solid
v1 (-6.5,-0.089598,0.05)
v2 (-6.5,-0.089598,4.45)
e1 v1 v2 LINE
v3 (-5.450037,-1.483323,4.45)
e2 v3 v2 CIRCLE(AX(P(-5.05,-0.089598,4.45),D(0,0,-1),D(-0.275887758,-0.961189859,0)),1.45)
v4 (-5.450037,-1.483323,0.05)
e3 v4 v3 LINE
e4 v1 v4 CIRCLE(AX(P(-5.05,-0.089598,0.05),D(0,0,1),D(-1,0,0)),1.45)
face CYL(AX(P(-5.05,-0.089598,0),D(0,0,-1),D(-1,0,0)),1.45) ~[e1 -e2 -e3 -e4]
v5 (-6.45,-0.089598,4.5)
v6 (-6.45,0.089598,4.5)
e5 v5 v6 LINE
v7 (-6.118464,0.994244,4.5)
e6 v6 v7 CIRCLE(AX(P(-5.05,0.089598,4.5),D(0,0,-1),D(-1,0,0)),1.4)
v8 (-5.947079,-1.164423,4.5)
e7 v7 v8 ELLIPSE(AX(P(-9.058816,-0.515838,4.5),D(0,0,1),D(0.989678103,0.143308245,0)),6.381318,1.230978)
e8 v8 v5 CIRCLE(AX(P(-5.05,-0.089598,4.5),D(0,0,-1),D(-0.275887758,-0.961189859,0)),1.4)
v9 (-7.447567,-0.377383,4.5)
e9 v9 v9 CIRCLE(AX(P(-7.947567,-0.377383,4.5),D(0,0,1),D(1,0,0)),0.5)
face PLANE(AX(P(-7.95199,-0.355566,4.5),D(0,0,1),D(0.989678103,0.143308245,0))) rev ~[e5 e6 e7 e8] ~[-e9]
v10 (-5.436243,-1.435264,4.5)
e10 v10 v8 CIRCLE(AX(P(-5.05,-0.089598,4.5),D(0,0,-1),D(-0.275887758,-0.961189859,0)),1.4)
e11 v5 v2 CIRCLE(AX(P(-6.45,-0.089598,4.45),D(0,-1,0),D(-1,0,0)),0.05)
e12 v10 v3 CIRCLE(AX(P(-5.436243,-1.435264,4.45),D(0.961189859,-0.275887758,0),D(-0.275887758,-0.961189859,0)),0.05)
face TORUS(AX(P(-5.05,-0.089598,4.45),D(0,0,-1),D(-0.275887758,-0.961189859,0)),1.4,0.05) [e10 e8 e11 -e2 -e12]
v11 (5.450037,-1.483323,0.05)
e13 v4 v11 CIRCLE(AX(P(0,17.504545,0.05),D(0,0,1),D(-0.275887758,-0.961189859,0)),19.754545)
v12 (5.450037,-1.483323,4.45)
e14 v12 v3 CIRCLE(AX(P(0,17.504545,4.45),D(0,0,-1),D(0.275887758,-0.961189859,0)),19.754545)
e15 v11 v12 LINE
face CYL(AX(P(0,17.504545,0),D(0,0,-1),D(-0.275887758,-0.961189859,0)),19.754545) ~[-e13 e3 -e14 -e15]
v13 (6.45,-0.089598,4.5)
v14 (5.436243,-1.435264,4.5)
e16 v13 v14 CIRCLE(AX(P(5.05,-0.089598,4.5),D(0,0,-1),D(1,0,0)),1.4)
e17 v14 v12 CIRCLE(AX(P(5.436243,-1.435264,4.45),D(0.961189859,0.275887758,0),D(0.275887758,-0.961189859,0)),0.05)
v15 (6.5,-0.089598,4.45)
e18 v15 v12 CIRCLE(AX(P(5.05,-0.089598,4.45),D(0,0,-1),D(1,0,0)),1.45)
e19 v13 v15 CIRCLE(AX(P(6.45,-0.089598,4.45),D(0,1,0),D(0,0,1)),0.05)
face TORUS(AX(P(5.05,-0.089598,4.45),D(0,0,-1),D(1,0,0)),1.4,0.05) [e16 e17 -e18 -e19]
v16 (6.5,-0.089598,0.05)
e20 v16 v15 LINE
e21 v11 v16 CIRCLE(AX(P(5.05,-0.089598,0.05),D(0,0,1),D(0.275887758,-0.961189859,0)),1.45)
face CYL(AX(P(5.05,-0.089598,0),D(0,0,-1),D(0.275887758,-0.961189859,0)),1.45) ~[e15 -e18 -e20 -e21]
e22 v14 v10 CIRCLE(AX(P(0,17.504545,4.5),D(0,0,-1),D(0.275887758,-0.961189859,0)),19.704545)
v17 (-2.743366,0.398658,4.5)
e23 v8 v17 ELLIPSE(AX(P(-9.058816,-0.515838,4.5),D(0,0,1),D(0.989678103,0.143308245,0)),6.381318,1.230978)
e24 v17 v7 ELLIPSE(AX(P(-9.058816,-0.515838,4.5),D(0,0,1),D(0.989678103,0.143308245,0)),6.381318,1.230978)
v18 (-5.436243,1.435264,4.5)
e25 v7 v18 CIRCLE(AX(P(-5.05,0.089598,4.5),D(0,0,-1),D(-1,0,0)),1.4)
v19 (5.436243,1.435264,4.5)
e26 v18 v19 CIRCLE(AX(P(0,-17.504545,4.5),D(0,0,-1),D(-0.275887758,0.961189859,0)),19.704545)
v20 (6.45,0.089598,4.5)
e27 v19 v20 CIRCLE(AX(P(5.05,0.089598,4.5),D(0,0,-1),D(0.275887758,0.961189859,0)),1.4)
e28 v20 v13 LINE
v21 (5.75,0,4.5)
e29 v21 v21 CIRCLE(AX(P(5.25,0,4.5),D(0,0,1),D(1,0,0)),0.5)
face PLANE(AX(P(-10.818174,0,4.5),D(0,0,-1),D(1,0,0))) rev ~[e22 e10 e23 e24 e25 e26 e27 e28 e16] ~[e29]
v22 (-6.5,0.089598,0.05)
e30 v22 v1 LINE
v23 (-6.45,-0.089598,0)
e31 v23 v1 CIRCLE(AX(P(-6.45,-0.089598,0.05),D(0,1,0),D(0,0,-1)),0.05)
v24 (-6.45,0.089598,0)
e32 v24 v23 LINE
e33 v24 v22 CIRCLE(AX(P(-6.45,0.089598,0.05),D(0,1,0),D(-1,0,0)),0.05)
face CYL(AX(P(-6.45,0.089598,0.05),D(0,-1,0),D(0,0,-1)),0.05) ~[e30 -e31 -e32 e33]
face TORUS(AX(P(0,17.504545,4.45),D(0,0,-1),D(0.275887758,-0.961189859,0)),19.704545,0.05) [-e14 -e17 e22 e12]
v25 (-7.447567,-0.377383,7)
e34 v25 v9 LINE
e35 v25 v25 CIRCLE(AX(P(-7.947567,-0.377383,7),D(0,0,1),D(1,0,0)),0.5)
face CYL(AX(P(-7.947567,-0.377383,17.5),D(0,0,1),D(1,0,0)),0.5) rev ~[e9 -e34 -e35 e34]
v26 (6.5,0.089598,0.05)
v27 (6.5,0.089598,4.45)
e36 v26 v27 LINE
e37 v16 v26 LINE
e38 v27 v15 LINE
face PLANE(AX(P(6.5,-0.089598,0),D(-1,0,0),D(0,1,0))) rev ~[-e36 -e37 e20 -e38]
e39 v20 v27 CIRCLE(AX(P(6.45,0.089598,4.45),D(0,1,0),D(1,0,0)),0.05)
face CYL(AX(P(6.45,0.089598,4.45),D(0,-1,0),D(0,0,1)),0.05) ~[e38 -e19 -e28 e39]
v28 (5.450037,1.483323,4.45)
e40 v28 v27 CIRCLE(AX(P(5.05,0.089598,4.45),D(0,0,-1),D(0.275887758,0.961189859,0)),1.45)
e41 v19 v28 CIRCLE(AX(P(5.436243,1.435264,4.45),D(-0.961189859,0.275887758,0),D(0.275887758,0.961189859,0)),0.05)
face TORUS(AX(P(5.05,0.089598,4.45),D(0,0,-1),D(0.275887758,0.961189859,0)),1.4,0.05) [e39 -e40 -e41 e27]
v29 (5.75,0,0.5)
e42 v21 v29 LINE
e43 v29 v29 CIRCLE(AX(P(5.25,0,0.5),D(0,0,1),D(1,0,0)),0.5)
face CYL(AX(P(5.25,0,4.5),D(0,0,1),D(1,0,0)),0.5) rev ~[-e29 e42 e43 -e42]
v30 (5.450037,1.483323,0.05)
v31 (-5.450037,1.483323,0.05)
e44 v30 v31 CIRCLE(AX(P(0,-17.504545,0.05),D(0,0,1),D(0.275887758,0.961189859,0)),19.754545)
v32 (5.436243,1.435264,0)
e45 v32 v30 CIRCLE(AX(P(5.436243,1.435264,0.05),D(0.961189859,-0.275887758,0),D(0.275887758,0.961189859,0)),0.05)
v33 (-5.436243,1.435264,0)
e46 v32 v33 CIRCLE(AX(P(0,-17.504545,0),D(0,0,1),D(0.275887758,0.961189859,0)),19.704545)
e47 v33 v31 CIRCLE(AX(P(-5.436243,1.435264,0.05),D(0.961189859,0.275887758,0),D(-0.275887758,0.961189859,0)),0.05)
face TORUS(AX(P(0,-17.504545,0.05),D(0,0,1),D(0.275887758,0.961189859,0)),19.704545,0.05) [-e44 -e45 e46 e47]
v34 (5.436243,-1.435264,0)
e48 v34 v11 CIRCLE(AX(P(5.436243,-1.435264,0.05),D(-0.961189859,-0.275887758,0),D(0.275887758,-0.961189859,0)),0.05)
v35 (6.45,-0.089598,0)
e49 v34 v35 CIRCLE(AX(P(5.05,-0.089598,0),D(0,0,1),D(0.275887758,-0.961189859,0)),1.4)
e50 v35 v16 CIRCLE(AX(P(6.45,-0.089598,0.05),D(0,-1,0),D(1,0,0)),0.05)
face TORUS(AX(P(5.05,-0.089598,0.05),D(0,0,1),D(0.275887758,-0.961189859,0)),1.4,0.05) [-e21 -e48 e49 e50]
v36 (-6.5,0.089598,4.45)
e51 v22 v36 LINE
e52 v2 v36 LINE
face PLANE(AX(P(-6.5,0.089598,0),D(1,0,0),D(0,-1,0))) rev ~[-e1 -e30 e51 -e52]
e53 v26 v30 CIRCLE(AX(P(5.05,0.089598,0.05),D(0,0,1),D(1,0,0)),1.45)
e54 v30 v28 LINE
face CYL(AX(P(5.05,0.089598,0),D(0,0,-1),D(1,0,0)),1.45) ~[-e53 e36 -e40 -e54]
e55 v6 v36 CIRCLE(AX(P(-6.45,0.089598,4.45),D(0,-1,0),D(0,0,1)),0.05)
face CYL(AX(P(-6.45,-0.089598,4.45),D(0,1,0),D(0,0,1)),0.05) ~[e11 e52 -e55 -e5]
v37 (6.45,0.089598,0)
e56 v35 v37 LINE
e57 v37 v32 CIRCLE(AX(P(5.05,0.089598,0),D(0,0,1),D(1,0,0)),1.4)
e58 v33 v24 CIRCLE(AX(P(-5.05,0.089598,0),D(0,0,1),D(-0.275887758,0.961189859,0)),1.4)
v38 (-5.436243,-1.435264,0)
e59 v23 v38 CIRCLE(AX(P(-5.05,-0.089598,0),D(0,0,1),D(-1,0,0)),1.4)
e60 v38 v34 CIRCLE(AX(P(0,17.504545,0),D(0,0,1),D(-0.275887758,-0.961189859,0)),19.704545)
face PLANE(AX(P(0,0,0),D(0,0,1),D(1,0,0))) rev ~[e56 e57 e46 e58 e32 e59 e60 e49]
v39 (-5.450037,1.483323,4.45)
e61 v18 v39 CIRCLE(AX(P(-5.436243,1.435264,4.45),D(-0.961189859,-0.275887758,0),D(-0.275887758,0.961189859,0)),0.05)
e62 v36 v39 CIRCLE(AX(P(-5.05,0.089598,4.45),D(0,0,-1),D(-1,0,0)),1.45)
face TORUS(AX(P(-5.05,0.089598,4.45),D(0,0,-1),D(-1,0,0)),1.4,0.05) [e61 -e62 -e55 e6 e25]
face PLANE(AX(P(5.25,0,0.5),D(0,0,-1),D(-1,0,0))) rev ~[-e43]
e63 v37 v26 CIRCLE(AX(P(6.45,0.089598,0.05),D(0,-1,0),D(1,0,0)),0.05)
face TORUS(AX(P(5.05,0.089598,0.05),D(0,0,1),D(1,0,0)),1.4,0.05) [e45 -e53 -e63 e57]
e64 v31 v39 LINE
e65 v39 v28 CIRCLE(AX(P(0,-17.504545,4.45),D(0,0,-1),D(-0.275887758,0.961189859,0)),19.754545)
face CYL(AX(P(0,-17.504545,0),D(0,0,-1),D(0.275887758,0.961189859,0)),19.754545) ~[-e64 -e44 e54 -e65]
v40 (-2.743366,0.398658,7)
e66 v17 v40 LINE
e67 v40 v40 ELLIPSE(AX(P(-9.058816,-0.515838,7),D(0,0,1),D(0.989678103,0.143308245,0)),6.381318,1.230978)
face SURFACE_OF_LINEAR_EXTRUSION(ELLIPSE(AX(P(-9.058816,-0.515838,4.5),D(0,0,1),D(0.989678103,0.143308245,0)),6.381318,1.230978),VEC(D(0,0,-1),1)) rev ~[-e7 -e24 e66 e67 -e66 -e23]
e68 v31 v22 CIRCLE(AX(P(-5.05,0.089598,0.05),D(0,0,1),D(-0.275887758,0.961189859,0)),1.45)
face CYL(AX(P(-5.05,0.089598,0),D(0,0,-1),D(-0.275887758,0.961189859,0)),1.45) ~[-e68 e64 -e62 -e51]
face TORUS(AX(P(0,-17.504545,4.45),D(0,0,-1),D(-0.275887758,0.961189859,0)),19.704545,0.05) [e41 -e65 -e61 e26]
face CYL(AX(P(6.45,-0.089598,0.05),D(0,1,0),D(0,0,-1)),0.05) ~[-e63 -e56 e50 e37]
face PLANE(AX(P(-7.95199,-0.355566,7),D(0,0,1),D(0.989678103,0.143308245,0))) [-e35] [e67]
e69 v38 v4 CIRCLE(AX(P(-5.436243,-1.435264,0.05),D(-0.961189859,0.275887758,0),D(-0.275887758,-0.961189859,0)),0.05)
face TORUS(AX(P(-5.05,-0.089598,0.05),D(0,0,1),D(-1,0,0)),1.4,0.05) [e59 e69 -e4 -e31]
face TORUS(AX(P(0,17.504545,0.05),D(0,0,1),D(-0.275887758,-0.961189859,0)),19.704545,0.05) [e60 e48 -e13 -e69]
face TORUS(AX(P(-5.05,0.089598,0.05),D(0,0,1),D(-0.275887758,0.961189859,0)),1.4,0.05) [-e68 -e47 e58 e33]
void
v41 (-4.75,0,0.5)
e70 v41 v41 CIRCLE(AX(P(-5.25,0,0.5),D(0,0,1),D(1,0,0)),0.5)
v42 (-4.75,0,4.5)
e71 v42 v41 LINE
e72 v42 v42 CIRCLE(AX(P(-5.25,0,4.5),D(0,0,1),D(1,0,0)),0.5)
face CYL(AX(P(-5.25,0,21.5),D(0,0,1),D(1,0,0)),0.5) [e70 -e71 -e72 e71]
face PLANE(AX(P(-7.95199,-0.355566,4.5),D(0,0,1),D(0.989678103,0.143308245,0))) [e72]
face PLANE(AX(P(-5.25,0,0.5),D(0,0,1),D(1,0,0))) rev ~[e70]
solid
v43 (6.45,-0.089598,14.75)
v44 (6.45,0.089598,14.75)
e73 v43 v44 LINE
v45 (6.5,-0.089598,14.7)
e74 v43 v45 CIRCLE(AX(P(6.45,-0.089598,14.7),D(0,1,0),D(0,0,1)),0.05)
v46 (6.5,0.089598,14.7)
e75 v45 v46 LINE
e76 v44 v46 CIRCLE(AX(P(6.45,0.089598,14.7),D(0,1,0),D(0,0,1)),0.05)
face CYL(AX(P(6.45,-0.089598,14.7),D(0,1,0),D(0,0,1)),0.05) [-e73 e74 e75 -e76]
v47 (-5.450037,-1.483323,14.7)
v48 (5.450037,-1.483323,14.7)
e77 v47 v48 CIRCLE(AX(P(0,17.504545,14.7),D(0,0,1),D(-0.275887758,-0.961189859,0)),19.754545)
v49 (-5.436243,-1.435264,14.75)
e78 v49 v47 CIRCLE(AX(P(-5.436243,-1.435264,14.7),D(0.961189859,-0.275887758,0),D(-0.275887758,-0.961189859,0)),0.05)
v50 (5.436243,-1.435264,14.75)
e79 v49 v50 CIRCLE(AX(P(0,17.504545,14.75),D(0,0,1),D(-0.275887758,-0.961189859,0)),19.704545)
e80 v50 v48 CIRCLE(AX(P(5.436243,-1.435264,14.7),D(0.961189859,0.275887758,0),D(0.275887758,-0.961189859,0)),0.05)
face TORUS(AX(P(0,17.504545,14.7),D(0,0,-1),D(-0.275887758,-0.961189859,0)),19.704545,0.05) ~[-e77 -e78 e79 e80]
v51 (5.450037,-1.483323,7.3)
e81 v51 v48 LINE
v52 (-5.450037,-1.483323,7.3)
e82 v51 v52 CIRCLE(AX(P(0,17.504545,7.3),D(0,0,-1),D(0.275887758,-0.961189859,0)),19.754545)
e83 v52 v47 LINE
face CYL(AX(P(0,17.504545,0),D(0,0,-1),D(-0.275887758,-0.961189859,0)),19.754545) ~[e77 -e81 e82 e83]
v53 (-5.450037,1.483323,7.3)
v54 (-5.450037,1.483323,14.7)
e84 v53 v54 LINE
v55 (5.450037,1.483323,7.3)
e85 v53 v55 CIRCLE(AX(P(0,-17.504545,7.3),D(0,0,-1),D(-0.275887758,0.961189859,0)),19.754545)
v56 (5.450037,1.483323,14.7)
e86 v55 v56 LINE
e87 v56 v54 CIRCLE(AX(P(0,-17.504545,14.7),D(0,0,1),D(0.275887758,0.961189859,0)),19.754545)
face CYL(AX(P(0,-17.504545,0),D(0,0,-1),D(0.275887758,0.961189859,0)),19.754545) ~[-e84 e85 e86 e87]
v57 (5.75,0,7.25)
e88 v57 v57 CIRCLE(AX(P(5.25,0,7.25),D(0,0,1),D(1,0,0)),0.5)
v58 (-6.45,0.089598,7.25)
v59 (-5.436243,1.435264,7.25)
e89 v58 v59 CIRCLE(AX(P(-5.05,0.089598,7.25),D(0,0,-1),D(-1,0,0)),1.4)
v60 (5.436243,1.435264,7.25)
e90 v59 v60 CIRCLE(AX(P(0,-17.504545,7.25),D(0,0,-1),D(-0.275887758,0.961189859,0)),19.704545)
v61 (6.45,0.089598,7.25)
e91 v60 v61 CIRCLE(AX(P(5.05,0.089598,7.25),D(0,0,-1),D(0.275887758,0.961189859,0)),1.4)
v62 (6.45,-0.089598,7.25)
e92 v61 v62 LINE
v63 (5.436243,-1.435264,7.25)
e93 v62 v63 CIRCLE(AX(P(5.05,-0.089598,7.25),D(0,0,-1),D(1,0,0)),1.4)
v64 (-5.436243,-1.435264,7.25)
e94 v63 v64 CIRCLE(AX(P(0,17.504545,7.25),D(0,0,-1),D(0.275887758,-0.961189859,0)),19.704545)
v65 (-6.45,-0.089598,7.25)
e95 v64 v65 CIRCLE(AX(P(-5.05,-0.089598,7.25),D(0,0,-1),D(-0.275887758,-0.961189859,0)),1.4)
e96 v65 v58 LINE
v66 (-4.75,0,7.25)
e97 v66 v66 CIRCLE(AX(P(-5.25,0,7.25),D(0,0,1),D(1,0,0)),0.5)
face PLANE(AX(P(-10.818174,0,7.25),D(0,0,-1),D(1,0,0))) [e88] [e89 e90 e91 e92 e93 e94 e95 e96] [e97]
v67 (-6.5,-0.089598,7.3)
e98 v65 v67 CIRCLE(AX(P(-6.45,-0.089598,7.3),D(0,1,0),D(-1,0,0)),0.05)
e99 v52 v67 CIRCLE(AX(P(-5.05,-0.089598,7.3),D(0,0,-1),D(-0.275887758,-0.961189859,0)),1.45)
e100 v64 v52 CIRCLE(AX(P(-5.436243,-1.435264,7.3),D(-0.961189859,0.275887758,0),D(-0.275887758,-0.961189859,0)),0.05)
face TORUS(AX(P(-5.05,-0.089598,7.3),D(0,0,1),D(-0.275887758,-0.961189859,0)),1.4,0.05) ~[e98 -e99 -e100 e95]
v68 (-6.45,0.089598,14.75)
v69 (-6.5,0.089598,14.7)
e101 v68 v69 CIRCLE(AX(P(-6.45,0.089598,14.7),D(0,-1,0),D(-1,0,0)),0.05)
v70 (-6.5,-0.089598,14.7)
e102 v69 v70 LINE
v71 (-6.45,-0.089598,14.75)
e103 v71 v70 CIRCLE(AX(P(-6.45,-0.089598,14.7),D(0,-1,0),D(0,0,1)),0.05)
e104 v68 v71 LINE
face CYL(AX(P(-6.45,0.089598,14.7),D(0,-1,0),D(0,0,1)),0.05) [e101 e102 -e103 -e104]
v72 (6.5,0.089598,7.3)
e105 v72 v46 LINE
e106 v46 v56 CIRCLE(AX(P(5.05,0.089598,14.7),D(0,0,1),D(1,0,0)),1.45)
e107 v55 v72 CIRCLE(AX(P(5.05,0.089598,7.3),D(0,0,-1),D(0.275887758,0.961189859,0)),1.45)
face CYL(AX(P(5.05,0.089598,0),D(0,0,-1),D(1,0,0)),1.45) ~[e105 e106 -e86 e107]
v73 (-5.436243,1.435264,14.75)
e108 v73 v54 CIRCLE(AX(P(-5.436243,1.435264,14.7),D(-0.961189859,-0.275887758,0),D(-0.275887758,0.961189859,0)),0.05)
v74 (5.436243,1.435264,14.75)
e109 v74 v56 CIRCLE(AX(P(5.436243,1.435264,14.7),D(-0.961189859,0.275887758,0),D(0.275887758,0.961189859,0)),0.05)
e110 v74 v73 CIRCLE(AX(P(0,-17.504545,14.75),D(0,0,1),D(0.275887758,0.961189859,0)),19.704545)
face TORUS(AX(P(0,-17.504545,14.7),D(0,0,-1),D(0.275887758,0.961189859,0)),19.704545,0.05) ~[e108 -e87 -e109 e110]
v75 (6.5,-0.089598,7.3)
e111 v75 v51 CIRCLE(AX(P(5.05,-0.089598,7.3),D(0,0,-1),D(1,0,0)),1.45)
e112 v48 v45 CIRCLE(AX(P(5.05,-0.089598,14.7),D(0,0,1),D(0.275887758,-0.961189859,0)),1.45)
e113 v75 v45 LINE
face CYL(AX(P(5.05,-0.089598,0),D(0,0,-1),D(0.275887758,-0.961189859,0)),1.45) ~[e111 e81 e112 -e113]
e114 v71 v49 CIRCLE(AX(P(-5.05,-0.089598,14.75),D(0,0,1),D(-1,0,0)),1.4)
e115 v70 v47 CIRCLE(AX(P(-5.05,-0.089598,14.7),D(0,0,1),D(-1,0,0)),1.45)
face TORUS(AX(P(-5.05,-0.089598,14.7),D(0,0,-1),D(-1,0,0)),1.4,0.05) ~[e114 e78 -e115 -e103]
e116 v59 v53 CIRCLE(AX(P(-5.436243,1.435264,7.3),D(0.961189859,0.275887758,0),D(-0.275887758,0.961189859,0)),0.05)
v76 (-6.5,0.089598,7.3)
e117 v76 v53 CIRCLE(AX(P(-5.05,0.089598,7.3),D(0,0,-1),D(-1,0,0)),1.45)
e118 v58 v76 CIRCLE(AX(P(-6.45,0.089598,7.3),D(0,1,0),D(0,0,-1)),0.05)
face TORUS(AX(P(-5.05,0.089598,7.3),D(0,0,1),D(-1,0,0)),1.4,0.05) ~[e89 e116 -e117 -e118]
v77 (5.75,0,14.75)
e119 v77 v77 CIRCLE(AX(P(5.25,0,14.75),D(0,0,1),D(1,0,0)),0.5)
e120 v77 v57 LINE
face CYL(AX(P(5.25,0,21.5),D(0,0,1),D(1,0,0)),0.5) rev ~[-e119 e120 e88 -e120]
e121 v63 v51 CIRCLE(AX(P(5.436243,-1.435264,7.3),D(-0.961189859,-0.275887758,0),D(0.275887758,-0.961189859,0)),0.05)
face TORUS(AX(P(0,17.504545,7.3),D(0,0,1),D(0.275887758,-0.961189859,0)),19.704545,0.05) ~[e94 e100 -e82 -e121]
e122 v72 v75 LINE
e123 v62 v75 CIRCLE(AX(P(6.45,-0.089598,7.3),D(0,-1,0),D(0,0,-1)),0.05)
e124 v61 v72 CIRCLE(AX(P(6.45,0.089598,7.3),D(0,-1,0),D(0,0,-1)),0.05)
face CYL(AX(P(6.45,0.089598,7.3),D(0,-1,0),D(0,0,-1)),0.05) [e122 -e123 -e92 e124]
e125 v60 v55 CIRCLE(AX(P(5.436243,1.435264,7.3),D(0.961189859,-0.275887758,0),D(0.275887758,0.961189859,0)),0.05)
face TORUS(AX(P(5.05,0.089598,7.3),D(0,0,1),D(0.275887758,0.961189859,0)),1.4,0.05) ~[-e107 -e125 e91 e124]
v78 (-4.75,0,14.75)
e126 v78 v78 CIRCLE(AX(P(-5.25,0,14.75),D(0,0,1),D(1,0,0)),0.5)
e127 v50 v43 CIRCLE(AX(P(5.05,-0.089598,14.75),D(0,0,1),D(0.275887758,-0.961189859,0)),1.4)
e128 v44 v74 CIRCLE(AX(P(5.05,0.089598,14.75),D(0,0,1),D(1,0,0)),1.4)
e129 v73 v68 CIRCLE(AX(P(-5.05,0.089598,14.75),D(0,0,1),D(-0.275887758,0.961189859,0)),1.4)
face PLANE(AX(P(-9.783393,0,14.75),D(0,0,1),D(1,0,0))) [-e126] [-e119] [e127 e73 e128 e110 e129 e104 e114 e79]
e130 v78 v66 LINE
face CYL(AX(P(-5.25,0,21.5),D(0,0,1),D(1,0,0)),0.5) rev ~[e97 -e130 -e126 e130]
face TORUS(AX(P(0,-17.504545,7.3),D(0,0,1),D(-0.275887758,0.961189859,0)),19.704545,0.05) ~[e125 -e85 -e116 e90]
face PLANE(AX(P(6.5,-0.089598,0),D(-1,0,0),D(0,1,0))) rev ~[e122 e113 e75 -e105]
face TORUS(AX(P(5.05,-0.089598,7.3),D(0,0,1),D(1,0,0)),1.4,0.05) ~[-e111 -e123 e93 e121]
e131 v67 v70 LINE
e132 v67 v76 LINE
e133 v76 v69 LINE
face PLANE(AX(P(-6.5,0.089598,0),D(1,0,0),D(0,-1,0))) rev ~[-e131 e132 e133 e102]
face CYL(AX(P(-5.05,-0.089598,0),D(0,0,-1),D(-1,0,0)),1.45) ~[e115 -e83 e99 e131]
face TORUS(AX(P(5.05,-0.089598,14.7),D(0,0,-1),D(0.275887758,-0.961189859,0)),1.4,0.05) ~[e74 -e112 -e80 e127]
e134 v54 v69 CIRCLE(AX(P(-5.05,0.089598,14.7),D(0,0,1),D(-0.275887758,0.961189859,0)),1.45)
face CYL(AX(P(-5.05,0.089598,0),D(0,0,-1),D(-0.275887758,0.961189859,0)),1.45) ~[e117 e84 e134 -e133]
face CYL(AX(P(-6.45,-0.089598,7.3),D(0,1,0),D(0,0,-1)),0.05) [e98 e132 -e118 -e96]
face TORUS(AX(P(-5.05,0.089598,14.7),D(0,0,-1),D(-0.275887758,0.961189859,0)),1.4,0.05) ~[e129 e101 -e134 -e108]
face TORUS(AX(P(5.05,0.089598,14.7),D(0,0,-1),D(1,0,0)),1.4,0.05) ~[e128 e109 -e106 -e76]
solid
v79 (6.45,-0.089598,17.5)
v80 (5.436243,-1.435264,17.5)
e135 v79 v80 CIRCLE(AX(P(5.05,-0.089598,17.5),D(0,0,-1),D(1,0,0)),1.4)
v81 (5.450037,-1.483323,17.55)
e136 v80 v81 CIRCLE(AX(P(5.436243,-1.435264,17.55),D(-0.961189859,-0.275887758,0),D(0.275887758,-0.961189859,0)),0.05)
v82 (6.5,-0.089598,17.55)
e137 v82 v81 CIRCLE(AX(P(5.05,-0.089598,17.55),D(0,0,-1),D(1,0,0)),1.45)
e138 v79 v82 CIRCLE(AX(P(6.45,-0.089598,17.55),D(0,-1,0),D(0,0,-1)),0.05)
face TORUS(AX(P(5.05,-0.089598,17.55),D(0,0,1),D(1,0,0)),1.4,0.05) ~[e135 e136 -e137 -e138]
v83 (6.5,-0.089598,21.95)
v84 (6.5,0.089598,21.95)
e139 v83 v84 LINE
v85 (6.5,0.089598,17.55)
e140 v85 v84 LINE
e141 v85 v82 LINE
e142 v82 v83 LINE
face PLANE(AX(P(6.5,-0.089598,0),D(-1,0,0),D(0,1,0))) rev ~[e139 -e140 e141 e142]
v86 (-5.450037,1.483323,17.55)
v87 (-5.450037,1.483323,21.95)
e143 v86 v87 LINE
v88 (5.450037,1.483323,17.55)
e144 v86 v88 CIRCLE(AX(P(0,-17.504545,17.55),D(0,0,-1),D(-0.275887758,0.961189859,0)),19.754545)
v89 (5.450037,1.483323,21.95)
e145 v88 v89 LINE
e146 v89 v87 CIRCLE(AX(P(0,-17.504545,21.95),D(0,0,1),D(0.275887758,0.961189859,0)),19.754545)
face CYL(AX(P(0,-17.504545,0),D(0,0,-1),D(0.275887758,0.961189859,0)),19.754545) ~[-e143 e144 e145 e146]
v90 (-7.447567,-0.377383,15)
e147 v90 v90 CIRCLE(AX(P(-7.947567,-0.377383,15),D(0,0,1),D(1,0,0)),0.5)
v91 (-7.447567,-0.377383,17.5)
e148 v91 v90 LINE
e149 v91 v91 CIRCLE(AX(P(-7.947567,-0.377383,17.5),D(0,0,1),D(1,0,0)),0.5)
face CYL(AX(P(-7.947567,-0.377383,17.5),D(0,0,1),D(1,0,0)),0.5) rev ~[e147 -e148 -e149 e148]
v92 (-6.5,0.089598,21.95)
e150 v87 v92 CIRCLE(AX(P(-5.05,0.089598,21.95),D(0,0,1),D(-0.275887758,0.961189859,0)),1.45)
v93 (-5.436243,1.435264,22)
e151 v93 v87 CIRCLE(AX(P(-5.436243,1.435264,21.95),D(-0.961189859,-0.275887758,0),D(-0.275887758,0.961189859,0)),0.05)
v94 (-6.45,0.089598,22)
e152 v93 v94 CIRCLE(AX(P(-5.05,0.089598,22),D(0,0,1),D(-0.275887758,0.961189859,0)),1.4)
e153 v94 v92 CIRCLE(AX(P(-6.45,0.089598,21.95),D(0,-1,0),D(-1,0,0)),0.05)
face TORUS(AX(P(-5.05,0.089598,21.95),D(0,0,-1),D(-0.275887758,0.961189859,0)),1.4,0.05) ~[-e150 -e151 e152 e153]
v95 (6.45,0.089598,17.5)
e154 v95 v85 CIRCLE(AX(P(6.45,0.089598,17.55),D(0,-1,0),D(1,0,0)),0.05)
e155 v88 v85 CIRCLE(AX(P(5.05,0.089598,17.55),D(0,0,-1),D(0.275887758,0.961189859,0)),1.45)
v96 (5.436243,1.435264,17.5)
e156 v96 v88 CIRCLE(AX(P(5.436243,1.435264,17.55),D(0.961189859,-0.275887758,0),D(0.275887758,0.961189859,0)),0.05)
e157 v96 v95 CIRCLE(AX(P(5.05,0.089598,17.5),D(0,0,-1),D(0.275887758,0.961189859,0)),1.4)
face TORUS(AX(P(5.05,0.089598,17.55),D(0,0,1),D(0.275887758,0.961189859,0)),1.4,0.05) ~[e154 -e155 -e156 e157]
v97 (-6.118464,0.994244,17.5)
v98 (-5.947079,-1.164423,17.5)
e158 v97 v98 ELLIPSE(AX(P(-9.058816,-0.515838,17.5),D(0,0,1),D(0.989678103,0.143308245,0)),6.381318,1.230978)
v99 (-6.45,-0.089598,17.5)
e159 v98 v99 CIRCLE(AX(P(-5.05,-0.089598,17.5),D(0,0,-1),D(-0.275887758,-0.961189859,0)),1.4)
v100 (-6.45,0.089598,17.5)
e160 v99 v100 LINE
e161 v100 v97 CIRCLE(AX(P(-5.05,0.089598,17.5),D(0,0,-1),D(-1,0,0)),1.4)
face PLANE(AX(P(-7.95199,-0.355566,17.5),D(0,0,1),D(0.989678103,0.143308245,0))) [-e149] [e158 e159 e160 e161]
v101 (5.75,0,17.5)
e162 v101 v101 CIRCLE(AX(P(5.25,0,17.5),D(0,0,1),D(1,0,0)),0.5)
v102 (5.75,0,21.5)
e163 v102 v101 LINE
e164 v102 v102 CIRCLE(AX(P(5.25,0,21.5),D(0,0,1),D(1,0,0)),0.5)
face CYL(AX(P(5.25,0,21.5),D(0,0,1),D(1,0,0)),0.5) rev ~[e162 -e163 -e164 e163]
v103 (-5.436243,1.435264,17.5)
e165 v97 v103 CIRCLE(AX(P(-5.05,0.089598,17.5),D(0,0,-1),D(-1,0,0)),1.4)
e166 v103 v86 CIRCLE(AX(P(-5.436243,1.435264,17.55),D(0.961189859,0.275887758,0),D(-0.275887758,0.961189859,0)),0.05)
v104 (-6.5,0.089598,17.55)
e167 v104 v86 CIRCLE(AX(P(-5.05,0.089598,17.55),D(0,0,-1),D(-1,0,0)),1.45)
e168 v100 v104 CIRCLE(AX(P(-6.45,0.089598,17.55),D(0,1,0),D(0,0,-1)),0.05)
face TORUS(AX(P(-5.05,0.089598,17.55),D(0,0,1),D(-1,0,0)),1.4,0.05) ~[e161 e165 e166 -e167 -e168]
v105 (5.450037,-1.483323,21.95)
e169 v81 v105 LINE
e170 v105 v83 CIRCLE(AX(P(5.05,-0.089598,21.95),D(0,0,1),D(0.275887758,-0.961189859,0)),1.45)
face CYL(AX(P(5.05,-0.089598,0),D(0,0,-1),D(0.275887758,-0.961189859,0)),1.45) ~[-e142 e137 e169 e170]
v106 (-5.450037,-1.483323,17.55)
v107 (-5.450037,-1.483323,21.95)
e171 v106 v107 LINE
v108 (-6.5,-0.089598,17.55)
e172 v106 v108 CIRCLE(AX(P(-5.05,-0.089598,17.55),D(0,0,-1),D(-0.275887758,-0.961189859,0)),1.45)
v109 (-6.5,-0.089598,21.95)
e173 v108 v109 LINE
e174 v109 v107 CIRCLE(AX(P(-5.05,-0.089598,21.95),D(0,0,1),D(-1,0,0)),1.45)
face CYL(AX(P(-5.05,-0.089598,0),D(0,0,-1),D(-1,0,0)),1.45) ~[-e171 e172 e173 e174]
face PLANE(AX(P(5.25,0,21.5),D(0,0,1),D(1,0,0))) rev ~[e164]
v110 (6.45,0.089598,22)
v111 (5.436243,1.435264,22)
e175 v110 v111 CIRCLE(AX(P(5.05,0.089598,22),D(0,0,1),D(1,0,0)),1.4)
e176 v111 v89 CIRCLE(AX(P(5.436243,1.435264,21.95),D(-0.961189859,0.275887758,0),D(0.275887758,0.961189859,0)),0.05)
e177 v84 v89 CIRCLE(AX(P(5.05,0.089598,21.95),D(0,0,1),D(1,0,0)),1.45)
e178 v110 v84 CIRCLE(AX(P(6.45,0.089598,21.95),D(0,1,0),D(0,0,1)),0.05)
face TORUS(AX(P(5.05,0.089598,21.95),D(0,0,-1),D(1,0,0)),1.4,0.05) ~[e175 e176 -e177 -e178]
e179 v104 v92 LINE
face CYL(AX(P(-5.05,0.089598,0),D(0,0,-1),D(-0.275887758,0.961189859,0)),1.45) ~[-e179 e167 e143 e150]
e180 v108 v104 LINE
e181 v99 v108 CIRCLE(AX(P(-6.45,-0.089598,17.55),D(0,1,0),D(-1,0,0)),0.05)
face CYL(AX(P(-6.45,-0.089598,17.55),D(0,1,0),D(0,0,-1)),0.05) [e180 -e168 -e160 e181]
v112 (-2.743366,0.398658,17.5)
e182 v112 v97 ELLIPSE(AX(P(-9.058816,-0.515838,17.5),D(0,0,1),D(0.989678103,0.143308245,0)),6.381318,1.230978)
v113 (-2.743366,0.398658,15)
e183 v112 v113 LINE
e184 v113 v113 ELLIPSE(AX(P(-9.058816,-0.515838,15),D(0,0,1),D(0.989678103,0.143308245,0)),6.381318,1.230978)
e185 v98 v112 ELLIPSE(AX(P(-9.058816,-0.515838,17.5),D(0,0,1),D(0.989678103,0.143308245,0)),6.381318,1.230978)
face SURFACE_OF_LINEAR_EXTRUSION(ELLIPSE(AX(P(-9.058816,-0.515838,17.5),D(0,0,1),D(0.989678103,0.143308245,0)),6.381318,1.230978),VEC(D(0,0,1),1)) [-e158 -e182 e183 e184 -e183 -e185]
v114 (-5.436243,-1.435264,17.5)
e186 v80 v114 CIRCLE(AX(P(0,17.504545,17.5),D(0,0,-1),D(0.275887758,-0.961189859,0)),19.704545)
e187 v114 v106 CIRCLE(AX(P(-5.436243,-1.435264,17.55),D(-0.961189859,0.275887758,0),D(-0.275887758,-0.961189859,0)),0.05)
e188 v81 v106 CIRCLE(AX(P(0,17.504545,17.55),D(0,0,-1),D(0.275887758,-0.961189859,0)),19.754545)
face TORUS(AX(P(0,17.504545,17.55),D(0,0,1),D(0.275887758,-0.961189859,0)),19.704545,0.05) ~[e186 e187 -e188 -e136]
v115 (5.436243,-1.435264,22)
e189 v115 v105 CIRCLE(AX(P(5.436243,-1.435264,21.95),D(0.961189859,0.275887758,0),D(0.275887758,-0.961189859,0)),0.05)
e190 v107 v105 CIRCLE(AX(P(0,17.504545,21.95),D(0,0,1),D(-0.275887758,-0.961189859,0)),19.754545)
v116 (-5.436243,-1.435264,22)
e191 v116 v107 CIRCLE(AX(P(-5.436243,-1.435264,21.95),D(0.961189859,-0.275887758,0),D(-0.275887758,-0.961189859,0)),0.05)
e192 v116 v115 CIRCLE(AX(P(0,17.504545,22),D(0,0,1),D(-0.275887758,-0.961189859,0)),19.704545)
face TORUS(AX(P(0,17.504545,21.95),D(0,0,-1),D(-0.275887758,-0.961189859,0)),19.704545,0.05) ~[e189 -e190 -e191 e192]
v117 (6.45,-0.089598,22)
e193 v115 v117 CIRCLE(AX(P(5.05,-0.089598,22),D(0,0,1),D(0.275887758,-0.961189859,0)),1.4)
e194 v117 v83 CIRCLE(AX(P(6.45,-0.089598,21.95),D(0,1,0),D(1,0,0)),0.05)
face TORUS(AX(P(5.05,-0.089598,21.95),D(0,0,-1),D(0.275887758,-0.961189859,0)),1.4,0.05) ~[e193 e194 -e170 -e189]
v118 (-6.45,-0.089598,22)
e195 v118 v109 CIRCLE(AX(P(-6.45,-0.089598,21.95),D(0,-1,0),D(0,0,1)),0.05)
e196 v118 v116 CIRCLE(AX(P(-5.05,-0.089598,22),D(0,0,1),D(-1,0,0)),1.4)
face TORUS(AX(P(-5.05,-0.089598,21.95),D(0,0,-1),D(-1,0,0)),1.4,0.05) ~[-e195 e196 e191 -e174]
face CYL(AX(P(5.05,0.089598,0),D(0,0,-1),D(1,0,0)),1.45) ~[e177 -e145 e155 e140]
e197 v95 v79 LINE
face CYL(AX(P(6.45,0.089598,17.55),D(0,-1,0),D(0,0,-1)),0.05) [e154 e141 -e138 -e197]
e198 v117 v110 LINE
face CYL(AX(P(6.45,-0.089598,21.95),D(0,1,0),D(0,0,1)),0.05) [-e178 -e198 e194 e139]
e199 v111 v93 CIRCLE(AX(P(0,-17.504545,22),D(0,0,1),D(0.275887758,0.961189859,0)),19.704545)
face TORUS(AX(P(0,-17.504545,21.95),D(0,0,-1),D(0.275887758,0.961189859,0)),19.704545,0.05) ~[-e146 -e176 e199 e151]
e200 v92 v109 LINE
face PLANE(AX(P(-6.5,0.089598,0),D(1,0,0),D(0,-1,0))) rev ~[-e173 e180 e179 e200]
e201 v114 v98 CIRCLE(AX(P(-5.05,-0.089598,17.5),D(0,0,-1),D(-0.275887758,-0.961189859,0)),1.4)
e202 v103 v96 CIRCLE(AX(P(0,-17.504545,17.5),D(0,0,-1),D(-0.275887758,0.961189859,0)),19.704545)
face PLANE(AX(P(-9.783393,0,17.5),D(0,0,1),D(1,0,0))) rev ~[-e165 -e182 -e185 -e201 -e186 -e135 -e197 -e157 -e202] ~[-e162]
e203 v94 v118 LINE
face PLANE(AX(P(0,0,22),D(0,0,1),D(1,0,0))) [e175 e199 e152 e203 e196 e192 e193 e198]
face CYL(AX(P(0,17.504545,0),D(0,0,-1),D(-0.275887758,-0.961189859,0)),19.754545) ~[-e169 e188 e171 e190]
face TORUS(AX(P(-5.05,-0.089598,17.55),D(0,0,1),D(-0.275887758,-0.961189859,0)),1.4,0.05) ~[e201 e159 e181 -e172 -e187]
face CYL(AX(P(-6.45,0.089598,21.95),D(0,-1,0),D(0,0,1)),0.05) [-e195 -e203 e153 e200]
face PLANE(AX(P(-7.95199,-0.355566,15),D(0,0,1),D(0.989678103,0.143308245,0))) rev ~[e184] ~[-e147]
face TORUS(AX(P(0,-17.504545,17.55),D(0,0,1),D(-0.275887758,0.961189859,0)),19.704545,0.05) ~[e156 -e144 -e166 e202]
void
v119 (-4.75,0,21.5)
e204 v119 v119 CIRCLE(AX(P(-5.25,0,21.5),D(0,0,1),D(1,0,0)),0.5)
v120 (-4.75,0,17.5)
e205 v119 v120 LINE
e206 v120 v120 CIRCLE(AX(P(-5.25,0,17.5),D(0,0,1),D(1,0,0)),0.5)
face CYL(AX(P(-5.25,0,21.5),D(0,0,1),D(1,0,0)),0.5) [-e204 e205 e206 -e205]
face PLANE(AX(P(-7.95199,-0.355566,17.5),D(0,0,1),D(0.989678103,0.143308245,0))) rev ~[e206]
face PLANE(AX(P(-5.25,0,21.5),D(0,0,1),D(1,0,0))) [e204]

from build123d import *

# Parameters (mm, degrees)
BOSS_EXTRUDE1_DEPTH = 22
SKETCH2_W           = 20.821066257
SKETCH2_H           = 2.75
SKETCH2_W_2         = 22.326203578
CUT_EXTRUDE1_DEPTH  = 11
CUT_EXTRUDE2_START  = -0.5
SKETCH3_R           = 0.5
CUT_EXTRUDE2_DEPTH  = 21
FILLET1_R           = 0.05
FILLET2_R           = 0.05
FILLET3_R           = 0.05
SKETCH4_R           = 0.5
CUT_EXTRUDE3_DEPTH  = 30
BOSS_EXTRUDE2_START = -4.5
SKETCH6_RX          = 6.381317706
SKETCH6_RY          = 1.230977933
BOSS_EXTRUDE2_DEPTH = 2.5
BOSS_EXTRUDE3_START = -17.5
SKETCH6_2_RX        = 6.381317706
SKETCH6_2_RY        = 1.230977933
BOSS_EXTRUDE3_DEPTH = 2.5
SKETCH7_R           = 0.5
CUT_EXTRUDE6_DEPTH  = 22.5
SKETCH9_R           = 0.642655751
BOSS_EXTRUDE4_DEPTH = 0.5
SKETCH10_R          = 0.749250698
BOSS_EXTRUDE5_DEPTH = 0.5


with BuildPart() as part:
    # Sketch1 → Boss-Extrude1 (new body)
    with BuildSketch(Plane.XY):
        with BuildLine():
            Line((-6.5, 0.089598011), (-6.5, -0.089598011))
            ThreePointArc((-6.5, -0.089598011), (-6.208135141, -0.962078954), (-5.450037249, -1.483323307))
            ThreePointArc((-5.450037249, -1.483323307), (0, -2.25), (5.450037249, -1.483323307))
            ThreePointArc((5.450037249, -1.483323307), (6.208135141, -0.962078954), (6.5, -0.089598011))
            Line((6.5, -0.089598011), (6.5, 0.089598011))
            ThreePointArc((6.5, 0.089598011), (6.208135141, 0.962078954), (5.450037249, 1.483323307))
            ThreePointArc((5.450037249, 1.483323307), (0, 2.25), (-5.450037249, 1.483323307))
            ThreePointArc((-5.450037249, 1.483323307), (-6.208135141, 0.962078954), (-6.5, 0.089598011))
        make_face()
    extrude(amount=BOSS_EXTRUDE1_DEPTH)

    # Sketch2 → Cut-Extrude1 (cut, symmetric)
    with BuildSketch(Plane(origin=(0, 0, 0), x_dir=(1, 0, 0), z_dir=(0, 1, 0))):
        with Locations((-0.407641358, -5.875)):
            Rectangle(SKETCH2_W, SKETCH2_H)
        with Locations((1.37970921, -16.125)):
            Rectangle(SKETCH2_W_2, SKETCH2_H)
    extrude(amount=CUT_EXTRUDE1_DEPTH, both=True, mode=Mode.SUBTRACT)


with BuildPart() as cut_extrude1_piece_1:
    # of the separate pieces the step leaves, piece 1, a body of its own (cut_extrude1_pieces)
    add(part.part.solids().sort_by_distance((6.5, -0.089598011, 7.25))[0])


with BuildPart() as cut_extrude1_piece_2:
    # of the separate pieces the step leaves, piece 2, a body of its own (cut_extrude1_pieces)
    add(part.part.solids().sort_by_distance((6.5, -0.089598011, 17.5))[0])


with BuildPart() as cut_extrude1_piece_3:
    # of the separate pieces the step leaves, piece 3, a body of its own (cut_extrude1_pieces)
    add(part.part.solids().sort_by_distance((5.450037249, -1.483323307, 0))[0])


with BuildPart() as cut_extrude2_tool:
    # Sketch3 → Cut-Extrude2 (new body)
    with BuildSketch(Plane.XY.offset(22).offset(CUT_EXTRUDE2_START)):
        with Locations((5.25, 0)):
            Circle(SKETCH3_R)
        with Locations((-5.25, 0)):
            Circle(SKETCH3_R)
    extrude(amount=-CUT_EXTRUDE2_DEPTH)


with BuildPart() as cut_extrude1_piece_1_1:
    add(cut_extrude1_piece_1.part)

    # Cut-Extrude2: cut by cut_extrude2_tool
    add(cut_extrude2_tool.part, mode=Mode.SUBTRACT)

    # Fillet2
    fillet2_edges = [cut_extrude1_piece_1_1.edges().sort_by_distance(p)[0] for p in [
        (6.208135141, 0.962078954, 7.25),
        (6.5, 0, 7.25),
        (6.208135141, -0.962078954, 7.25),
        (0, -2.25, 7.25),
        (-6.208135141, -0.962078954, 7.25),
        (-6.5, 0, 7.25),
        (-6.208135141, 0.962078954, 7.25),
        (-6.208135141, 0.962078954, 14.75),
        (-6.5, 0, 14.75),
        (-6.208135141, -0.962078954, 14.75),
        (0, -2.25, 14.75),
        (6.208135141, -0.962078954, 14.75),
        (6.5, 0, 14.75),
        (6.208135141, 0.962078954, 14.75),
        (0, 2.25, 7.25),
        (0, 2.25, 14.75),
    ]]
    fillet(fillet2_edges, radius=FILLET2_R)


with BuildPart() as cut_extrude1_piece_2_1:
    add(cut_extrude1_piece_2.part)

    # Cut-Extrude2: cut by cut_extrude2_tool
    add(cut_extrude2_tool.part, mode=Mode.SUBTRACT)

    # Fillet1
    fillet1_edges = [cut_extrude1_piece_2_1.edges().sort_by_distance(p)[0] for p in [
        (6.208135141, 0.962078954, 17.5),
        (6.5, 0, 17.5),
        (6.208135141, -0.962078954, 17.5),
        (0, -2.25, 17.5),
        (-6.208135141, -0.962078954, 17.5),
        (-6.5, 0, 17.5),
        (-6.208135141, 0.962078954, 17.5),
        (6.5, 0, 22),
        (6.208135141, -0.962078954, 22),
        (0, -2.25, 22),
        (-6.208135141, -0.962078954, 22),
        (-6.5, 0, 22),
        (-6.208135141, 0.962078954, 22),
        (0, 2.25, 22),
        (6.208135141, 0.962078954, 22),
        (0, 2.25, 17.5),
    ]]
    fillet(fillet1_edges, radius=FILLET1_R)


with BuildPart() as cut_extrude1_piece_3_1:
    add(cut_extrude1_piece_3.part)

    # Cut-Extrude2: cut by cut_extrude2_tool
    add(cut_extrude2_tool.part, mode=Mode.SUBTRACT)

    # Fillet3
    fillet3_edges = [cut_extrude1_piece_3_1.edges().sort_by_distance(p)[0] for p in [
        (6.208135141, 0.962078954, 0),
        (6.5, 0, 0),
        (6.208135141, -0.962078954, 0),
        (0, -2.25, 0),
        (-6.208135141, -0.962078954, 0),
        (-6.5, 0, 0),
        (-6.208135141, 0.962078954, 0),
        (-6.5, 0, 4.5),
        (-6.208135141, -0.962078954, 4.5),
        (0, -2.25, 4.5),
        (6.208135141, -0.962078954, 4.5),
        (6.5, 0, 4.5),
        (6.208135141, 0.962078954, 4.5),
        (0, 2.25, 4.5),
        (0, 2.25, 0),
        (-6.208135141, 0.962078954, 4.5),
    ]]
    fillet(fillet3_edges, radius=FILLET3_R)


with BuildPart() as cut_extrude3_tool:
    # Sketch4 → Cut-Extrude3 (new, symmetric)
    with BuildSketch(Plane.XY.offset(4.5)):
        with Locations((5.25, 0)):
            Circle(SKETCH4_R)
    extrude(amount=CUT_EXTRUDE3_DEPTH, both=True)


with BuildPart() as cut_extrude1_piece_2_2:
    add(cut_extrude1_piece_2_1.part)

    # Cut-Extrude3: cut by cut_extrude3_tool
    add(cut_extrude3_tool.part, mode=Mode.SUBTRACT)

    # Sketch6 → Boss-Extrude2 (add)
    with BuildSketch(Plane.XY.offset(22).offset(BOSS_EXTRUDE2_START)):
        with Locations(Location((-9.058816325, -0.515837668), (0, 0, 8.239325628))):
            Ellipse(SKETCH6_RX, SKETCH6_RY)
    extrude(amount=-BOSS_EXTRUDE2_DEPTH)


with BuildPart() as cut_extrude1_piece_3_2:
    add(cut_extrude1_piece_3_1.part)

    # Cut-Extrude3: cut by cut_extrude3_tool
    add(cut_extrude3_tool.part, mode=Mode.SUBTRACT)

    # Sketch6<2> → Boss-Extrude3 (add)
    with BuildSketch(Plane.XY.offset(22).offset(BOSS_EXTRUDE3_START)):
        with Locations(Location((-9.058816325, -0.515837668), (0, 0, 8.239325628))):
            Ellipse(SKETCH6_2_RX, SKETCH6_2_RY)
    extrude(amount=BOSS_EXTRUDE3_DEPTH)


with BuildPart() as cut_extrude6_tool:
    # Sketch7 → Cut-Extrude6 (new body)
    with BuildSketch(Plane.XY.offset(17.5)):
        with Locations((-7.947567337, -0.377382917)):
            Circle(SKETCH7_R)
    extrude(amount=-CUT_EXTRUDE6_DEPTH)


with BuildPart() as cut_extrude1_piece_2_3:
    add(cut_extrude1_piece_2_2.part)

    # Cut-Extrude6: cut by cut_extrude6_tool
    add(cut_extrude6_tool.part, mode=Mode.SUBTRACT)

    # Sketch9 → Boss-Extrude4 (add)
    with BuildSketch(Plane.XY.offset(22)):
        with Locations((5.25, 0)):
            Circle(SKETCH9_R)
    extrude(amount=-BOSS_EXTRUDE4_DEPTH)


with BuildPart() as cut_extrude1_piece_3_3:
    add(cut_extrude1_piece_3_2.part)

    # Cut-Extrude6: cut by cut_extrude6_tool
    add(cut_extrude6_tool.part, mode=Mode.SUBTRACT)

    # Sketch10 → Boss-Extrude5 (add)
    with BuildSketch(Plane(origin=(0, 0, 0), x_dir=(-1, 0, 0), z_dir=(0, 0, -1))):
        with Locations((-5.25, 0)):
            Circle(SKETCH10_R)
    extrude(amount=-BOSS_EXTRUDE5_DEPTH)


solid = Compound([cut_extrude1_piece_1_1.part, cut_extrude1_piece_2_3.part, cut_extrude1_piece_3_3.part])
